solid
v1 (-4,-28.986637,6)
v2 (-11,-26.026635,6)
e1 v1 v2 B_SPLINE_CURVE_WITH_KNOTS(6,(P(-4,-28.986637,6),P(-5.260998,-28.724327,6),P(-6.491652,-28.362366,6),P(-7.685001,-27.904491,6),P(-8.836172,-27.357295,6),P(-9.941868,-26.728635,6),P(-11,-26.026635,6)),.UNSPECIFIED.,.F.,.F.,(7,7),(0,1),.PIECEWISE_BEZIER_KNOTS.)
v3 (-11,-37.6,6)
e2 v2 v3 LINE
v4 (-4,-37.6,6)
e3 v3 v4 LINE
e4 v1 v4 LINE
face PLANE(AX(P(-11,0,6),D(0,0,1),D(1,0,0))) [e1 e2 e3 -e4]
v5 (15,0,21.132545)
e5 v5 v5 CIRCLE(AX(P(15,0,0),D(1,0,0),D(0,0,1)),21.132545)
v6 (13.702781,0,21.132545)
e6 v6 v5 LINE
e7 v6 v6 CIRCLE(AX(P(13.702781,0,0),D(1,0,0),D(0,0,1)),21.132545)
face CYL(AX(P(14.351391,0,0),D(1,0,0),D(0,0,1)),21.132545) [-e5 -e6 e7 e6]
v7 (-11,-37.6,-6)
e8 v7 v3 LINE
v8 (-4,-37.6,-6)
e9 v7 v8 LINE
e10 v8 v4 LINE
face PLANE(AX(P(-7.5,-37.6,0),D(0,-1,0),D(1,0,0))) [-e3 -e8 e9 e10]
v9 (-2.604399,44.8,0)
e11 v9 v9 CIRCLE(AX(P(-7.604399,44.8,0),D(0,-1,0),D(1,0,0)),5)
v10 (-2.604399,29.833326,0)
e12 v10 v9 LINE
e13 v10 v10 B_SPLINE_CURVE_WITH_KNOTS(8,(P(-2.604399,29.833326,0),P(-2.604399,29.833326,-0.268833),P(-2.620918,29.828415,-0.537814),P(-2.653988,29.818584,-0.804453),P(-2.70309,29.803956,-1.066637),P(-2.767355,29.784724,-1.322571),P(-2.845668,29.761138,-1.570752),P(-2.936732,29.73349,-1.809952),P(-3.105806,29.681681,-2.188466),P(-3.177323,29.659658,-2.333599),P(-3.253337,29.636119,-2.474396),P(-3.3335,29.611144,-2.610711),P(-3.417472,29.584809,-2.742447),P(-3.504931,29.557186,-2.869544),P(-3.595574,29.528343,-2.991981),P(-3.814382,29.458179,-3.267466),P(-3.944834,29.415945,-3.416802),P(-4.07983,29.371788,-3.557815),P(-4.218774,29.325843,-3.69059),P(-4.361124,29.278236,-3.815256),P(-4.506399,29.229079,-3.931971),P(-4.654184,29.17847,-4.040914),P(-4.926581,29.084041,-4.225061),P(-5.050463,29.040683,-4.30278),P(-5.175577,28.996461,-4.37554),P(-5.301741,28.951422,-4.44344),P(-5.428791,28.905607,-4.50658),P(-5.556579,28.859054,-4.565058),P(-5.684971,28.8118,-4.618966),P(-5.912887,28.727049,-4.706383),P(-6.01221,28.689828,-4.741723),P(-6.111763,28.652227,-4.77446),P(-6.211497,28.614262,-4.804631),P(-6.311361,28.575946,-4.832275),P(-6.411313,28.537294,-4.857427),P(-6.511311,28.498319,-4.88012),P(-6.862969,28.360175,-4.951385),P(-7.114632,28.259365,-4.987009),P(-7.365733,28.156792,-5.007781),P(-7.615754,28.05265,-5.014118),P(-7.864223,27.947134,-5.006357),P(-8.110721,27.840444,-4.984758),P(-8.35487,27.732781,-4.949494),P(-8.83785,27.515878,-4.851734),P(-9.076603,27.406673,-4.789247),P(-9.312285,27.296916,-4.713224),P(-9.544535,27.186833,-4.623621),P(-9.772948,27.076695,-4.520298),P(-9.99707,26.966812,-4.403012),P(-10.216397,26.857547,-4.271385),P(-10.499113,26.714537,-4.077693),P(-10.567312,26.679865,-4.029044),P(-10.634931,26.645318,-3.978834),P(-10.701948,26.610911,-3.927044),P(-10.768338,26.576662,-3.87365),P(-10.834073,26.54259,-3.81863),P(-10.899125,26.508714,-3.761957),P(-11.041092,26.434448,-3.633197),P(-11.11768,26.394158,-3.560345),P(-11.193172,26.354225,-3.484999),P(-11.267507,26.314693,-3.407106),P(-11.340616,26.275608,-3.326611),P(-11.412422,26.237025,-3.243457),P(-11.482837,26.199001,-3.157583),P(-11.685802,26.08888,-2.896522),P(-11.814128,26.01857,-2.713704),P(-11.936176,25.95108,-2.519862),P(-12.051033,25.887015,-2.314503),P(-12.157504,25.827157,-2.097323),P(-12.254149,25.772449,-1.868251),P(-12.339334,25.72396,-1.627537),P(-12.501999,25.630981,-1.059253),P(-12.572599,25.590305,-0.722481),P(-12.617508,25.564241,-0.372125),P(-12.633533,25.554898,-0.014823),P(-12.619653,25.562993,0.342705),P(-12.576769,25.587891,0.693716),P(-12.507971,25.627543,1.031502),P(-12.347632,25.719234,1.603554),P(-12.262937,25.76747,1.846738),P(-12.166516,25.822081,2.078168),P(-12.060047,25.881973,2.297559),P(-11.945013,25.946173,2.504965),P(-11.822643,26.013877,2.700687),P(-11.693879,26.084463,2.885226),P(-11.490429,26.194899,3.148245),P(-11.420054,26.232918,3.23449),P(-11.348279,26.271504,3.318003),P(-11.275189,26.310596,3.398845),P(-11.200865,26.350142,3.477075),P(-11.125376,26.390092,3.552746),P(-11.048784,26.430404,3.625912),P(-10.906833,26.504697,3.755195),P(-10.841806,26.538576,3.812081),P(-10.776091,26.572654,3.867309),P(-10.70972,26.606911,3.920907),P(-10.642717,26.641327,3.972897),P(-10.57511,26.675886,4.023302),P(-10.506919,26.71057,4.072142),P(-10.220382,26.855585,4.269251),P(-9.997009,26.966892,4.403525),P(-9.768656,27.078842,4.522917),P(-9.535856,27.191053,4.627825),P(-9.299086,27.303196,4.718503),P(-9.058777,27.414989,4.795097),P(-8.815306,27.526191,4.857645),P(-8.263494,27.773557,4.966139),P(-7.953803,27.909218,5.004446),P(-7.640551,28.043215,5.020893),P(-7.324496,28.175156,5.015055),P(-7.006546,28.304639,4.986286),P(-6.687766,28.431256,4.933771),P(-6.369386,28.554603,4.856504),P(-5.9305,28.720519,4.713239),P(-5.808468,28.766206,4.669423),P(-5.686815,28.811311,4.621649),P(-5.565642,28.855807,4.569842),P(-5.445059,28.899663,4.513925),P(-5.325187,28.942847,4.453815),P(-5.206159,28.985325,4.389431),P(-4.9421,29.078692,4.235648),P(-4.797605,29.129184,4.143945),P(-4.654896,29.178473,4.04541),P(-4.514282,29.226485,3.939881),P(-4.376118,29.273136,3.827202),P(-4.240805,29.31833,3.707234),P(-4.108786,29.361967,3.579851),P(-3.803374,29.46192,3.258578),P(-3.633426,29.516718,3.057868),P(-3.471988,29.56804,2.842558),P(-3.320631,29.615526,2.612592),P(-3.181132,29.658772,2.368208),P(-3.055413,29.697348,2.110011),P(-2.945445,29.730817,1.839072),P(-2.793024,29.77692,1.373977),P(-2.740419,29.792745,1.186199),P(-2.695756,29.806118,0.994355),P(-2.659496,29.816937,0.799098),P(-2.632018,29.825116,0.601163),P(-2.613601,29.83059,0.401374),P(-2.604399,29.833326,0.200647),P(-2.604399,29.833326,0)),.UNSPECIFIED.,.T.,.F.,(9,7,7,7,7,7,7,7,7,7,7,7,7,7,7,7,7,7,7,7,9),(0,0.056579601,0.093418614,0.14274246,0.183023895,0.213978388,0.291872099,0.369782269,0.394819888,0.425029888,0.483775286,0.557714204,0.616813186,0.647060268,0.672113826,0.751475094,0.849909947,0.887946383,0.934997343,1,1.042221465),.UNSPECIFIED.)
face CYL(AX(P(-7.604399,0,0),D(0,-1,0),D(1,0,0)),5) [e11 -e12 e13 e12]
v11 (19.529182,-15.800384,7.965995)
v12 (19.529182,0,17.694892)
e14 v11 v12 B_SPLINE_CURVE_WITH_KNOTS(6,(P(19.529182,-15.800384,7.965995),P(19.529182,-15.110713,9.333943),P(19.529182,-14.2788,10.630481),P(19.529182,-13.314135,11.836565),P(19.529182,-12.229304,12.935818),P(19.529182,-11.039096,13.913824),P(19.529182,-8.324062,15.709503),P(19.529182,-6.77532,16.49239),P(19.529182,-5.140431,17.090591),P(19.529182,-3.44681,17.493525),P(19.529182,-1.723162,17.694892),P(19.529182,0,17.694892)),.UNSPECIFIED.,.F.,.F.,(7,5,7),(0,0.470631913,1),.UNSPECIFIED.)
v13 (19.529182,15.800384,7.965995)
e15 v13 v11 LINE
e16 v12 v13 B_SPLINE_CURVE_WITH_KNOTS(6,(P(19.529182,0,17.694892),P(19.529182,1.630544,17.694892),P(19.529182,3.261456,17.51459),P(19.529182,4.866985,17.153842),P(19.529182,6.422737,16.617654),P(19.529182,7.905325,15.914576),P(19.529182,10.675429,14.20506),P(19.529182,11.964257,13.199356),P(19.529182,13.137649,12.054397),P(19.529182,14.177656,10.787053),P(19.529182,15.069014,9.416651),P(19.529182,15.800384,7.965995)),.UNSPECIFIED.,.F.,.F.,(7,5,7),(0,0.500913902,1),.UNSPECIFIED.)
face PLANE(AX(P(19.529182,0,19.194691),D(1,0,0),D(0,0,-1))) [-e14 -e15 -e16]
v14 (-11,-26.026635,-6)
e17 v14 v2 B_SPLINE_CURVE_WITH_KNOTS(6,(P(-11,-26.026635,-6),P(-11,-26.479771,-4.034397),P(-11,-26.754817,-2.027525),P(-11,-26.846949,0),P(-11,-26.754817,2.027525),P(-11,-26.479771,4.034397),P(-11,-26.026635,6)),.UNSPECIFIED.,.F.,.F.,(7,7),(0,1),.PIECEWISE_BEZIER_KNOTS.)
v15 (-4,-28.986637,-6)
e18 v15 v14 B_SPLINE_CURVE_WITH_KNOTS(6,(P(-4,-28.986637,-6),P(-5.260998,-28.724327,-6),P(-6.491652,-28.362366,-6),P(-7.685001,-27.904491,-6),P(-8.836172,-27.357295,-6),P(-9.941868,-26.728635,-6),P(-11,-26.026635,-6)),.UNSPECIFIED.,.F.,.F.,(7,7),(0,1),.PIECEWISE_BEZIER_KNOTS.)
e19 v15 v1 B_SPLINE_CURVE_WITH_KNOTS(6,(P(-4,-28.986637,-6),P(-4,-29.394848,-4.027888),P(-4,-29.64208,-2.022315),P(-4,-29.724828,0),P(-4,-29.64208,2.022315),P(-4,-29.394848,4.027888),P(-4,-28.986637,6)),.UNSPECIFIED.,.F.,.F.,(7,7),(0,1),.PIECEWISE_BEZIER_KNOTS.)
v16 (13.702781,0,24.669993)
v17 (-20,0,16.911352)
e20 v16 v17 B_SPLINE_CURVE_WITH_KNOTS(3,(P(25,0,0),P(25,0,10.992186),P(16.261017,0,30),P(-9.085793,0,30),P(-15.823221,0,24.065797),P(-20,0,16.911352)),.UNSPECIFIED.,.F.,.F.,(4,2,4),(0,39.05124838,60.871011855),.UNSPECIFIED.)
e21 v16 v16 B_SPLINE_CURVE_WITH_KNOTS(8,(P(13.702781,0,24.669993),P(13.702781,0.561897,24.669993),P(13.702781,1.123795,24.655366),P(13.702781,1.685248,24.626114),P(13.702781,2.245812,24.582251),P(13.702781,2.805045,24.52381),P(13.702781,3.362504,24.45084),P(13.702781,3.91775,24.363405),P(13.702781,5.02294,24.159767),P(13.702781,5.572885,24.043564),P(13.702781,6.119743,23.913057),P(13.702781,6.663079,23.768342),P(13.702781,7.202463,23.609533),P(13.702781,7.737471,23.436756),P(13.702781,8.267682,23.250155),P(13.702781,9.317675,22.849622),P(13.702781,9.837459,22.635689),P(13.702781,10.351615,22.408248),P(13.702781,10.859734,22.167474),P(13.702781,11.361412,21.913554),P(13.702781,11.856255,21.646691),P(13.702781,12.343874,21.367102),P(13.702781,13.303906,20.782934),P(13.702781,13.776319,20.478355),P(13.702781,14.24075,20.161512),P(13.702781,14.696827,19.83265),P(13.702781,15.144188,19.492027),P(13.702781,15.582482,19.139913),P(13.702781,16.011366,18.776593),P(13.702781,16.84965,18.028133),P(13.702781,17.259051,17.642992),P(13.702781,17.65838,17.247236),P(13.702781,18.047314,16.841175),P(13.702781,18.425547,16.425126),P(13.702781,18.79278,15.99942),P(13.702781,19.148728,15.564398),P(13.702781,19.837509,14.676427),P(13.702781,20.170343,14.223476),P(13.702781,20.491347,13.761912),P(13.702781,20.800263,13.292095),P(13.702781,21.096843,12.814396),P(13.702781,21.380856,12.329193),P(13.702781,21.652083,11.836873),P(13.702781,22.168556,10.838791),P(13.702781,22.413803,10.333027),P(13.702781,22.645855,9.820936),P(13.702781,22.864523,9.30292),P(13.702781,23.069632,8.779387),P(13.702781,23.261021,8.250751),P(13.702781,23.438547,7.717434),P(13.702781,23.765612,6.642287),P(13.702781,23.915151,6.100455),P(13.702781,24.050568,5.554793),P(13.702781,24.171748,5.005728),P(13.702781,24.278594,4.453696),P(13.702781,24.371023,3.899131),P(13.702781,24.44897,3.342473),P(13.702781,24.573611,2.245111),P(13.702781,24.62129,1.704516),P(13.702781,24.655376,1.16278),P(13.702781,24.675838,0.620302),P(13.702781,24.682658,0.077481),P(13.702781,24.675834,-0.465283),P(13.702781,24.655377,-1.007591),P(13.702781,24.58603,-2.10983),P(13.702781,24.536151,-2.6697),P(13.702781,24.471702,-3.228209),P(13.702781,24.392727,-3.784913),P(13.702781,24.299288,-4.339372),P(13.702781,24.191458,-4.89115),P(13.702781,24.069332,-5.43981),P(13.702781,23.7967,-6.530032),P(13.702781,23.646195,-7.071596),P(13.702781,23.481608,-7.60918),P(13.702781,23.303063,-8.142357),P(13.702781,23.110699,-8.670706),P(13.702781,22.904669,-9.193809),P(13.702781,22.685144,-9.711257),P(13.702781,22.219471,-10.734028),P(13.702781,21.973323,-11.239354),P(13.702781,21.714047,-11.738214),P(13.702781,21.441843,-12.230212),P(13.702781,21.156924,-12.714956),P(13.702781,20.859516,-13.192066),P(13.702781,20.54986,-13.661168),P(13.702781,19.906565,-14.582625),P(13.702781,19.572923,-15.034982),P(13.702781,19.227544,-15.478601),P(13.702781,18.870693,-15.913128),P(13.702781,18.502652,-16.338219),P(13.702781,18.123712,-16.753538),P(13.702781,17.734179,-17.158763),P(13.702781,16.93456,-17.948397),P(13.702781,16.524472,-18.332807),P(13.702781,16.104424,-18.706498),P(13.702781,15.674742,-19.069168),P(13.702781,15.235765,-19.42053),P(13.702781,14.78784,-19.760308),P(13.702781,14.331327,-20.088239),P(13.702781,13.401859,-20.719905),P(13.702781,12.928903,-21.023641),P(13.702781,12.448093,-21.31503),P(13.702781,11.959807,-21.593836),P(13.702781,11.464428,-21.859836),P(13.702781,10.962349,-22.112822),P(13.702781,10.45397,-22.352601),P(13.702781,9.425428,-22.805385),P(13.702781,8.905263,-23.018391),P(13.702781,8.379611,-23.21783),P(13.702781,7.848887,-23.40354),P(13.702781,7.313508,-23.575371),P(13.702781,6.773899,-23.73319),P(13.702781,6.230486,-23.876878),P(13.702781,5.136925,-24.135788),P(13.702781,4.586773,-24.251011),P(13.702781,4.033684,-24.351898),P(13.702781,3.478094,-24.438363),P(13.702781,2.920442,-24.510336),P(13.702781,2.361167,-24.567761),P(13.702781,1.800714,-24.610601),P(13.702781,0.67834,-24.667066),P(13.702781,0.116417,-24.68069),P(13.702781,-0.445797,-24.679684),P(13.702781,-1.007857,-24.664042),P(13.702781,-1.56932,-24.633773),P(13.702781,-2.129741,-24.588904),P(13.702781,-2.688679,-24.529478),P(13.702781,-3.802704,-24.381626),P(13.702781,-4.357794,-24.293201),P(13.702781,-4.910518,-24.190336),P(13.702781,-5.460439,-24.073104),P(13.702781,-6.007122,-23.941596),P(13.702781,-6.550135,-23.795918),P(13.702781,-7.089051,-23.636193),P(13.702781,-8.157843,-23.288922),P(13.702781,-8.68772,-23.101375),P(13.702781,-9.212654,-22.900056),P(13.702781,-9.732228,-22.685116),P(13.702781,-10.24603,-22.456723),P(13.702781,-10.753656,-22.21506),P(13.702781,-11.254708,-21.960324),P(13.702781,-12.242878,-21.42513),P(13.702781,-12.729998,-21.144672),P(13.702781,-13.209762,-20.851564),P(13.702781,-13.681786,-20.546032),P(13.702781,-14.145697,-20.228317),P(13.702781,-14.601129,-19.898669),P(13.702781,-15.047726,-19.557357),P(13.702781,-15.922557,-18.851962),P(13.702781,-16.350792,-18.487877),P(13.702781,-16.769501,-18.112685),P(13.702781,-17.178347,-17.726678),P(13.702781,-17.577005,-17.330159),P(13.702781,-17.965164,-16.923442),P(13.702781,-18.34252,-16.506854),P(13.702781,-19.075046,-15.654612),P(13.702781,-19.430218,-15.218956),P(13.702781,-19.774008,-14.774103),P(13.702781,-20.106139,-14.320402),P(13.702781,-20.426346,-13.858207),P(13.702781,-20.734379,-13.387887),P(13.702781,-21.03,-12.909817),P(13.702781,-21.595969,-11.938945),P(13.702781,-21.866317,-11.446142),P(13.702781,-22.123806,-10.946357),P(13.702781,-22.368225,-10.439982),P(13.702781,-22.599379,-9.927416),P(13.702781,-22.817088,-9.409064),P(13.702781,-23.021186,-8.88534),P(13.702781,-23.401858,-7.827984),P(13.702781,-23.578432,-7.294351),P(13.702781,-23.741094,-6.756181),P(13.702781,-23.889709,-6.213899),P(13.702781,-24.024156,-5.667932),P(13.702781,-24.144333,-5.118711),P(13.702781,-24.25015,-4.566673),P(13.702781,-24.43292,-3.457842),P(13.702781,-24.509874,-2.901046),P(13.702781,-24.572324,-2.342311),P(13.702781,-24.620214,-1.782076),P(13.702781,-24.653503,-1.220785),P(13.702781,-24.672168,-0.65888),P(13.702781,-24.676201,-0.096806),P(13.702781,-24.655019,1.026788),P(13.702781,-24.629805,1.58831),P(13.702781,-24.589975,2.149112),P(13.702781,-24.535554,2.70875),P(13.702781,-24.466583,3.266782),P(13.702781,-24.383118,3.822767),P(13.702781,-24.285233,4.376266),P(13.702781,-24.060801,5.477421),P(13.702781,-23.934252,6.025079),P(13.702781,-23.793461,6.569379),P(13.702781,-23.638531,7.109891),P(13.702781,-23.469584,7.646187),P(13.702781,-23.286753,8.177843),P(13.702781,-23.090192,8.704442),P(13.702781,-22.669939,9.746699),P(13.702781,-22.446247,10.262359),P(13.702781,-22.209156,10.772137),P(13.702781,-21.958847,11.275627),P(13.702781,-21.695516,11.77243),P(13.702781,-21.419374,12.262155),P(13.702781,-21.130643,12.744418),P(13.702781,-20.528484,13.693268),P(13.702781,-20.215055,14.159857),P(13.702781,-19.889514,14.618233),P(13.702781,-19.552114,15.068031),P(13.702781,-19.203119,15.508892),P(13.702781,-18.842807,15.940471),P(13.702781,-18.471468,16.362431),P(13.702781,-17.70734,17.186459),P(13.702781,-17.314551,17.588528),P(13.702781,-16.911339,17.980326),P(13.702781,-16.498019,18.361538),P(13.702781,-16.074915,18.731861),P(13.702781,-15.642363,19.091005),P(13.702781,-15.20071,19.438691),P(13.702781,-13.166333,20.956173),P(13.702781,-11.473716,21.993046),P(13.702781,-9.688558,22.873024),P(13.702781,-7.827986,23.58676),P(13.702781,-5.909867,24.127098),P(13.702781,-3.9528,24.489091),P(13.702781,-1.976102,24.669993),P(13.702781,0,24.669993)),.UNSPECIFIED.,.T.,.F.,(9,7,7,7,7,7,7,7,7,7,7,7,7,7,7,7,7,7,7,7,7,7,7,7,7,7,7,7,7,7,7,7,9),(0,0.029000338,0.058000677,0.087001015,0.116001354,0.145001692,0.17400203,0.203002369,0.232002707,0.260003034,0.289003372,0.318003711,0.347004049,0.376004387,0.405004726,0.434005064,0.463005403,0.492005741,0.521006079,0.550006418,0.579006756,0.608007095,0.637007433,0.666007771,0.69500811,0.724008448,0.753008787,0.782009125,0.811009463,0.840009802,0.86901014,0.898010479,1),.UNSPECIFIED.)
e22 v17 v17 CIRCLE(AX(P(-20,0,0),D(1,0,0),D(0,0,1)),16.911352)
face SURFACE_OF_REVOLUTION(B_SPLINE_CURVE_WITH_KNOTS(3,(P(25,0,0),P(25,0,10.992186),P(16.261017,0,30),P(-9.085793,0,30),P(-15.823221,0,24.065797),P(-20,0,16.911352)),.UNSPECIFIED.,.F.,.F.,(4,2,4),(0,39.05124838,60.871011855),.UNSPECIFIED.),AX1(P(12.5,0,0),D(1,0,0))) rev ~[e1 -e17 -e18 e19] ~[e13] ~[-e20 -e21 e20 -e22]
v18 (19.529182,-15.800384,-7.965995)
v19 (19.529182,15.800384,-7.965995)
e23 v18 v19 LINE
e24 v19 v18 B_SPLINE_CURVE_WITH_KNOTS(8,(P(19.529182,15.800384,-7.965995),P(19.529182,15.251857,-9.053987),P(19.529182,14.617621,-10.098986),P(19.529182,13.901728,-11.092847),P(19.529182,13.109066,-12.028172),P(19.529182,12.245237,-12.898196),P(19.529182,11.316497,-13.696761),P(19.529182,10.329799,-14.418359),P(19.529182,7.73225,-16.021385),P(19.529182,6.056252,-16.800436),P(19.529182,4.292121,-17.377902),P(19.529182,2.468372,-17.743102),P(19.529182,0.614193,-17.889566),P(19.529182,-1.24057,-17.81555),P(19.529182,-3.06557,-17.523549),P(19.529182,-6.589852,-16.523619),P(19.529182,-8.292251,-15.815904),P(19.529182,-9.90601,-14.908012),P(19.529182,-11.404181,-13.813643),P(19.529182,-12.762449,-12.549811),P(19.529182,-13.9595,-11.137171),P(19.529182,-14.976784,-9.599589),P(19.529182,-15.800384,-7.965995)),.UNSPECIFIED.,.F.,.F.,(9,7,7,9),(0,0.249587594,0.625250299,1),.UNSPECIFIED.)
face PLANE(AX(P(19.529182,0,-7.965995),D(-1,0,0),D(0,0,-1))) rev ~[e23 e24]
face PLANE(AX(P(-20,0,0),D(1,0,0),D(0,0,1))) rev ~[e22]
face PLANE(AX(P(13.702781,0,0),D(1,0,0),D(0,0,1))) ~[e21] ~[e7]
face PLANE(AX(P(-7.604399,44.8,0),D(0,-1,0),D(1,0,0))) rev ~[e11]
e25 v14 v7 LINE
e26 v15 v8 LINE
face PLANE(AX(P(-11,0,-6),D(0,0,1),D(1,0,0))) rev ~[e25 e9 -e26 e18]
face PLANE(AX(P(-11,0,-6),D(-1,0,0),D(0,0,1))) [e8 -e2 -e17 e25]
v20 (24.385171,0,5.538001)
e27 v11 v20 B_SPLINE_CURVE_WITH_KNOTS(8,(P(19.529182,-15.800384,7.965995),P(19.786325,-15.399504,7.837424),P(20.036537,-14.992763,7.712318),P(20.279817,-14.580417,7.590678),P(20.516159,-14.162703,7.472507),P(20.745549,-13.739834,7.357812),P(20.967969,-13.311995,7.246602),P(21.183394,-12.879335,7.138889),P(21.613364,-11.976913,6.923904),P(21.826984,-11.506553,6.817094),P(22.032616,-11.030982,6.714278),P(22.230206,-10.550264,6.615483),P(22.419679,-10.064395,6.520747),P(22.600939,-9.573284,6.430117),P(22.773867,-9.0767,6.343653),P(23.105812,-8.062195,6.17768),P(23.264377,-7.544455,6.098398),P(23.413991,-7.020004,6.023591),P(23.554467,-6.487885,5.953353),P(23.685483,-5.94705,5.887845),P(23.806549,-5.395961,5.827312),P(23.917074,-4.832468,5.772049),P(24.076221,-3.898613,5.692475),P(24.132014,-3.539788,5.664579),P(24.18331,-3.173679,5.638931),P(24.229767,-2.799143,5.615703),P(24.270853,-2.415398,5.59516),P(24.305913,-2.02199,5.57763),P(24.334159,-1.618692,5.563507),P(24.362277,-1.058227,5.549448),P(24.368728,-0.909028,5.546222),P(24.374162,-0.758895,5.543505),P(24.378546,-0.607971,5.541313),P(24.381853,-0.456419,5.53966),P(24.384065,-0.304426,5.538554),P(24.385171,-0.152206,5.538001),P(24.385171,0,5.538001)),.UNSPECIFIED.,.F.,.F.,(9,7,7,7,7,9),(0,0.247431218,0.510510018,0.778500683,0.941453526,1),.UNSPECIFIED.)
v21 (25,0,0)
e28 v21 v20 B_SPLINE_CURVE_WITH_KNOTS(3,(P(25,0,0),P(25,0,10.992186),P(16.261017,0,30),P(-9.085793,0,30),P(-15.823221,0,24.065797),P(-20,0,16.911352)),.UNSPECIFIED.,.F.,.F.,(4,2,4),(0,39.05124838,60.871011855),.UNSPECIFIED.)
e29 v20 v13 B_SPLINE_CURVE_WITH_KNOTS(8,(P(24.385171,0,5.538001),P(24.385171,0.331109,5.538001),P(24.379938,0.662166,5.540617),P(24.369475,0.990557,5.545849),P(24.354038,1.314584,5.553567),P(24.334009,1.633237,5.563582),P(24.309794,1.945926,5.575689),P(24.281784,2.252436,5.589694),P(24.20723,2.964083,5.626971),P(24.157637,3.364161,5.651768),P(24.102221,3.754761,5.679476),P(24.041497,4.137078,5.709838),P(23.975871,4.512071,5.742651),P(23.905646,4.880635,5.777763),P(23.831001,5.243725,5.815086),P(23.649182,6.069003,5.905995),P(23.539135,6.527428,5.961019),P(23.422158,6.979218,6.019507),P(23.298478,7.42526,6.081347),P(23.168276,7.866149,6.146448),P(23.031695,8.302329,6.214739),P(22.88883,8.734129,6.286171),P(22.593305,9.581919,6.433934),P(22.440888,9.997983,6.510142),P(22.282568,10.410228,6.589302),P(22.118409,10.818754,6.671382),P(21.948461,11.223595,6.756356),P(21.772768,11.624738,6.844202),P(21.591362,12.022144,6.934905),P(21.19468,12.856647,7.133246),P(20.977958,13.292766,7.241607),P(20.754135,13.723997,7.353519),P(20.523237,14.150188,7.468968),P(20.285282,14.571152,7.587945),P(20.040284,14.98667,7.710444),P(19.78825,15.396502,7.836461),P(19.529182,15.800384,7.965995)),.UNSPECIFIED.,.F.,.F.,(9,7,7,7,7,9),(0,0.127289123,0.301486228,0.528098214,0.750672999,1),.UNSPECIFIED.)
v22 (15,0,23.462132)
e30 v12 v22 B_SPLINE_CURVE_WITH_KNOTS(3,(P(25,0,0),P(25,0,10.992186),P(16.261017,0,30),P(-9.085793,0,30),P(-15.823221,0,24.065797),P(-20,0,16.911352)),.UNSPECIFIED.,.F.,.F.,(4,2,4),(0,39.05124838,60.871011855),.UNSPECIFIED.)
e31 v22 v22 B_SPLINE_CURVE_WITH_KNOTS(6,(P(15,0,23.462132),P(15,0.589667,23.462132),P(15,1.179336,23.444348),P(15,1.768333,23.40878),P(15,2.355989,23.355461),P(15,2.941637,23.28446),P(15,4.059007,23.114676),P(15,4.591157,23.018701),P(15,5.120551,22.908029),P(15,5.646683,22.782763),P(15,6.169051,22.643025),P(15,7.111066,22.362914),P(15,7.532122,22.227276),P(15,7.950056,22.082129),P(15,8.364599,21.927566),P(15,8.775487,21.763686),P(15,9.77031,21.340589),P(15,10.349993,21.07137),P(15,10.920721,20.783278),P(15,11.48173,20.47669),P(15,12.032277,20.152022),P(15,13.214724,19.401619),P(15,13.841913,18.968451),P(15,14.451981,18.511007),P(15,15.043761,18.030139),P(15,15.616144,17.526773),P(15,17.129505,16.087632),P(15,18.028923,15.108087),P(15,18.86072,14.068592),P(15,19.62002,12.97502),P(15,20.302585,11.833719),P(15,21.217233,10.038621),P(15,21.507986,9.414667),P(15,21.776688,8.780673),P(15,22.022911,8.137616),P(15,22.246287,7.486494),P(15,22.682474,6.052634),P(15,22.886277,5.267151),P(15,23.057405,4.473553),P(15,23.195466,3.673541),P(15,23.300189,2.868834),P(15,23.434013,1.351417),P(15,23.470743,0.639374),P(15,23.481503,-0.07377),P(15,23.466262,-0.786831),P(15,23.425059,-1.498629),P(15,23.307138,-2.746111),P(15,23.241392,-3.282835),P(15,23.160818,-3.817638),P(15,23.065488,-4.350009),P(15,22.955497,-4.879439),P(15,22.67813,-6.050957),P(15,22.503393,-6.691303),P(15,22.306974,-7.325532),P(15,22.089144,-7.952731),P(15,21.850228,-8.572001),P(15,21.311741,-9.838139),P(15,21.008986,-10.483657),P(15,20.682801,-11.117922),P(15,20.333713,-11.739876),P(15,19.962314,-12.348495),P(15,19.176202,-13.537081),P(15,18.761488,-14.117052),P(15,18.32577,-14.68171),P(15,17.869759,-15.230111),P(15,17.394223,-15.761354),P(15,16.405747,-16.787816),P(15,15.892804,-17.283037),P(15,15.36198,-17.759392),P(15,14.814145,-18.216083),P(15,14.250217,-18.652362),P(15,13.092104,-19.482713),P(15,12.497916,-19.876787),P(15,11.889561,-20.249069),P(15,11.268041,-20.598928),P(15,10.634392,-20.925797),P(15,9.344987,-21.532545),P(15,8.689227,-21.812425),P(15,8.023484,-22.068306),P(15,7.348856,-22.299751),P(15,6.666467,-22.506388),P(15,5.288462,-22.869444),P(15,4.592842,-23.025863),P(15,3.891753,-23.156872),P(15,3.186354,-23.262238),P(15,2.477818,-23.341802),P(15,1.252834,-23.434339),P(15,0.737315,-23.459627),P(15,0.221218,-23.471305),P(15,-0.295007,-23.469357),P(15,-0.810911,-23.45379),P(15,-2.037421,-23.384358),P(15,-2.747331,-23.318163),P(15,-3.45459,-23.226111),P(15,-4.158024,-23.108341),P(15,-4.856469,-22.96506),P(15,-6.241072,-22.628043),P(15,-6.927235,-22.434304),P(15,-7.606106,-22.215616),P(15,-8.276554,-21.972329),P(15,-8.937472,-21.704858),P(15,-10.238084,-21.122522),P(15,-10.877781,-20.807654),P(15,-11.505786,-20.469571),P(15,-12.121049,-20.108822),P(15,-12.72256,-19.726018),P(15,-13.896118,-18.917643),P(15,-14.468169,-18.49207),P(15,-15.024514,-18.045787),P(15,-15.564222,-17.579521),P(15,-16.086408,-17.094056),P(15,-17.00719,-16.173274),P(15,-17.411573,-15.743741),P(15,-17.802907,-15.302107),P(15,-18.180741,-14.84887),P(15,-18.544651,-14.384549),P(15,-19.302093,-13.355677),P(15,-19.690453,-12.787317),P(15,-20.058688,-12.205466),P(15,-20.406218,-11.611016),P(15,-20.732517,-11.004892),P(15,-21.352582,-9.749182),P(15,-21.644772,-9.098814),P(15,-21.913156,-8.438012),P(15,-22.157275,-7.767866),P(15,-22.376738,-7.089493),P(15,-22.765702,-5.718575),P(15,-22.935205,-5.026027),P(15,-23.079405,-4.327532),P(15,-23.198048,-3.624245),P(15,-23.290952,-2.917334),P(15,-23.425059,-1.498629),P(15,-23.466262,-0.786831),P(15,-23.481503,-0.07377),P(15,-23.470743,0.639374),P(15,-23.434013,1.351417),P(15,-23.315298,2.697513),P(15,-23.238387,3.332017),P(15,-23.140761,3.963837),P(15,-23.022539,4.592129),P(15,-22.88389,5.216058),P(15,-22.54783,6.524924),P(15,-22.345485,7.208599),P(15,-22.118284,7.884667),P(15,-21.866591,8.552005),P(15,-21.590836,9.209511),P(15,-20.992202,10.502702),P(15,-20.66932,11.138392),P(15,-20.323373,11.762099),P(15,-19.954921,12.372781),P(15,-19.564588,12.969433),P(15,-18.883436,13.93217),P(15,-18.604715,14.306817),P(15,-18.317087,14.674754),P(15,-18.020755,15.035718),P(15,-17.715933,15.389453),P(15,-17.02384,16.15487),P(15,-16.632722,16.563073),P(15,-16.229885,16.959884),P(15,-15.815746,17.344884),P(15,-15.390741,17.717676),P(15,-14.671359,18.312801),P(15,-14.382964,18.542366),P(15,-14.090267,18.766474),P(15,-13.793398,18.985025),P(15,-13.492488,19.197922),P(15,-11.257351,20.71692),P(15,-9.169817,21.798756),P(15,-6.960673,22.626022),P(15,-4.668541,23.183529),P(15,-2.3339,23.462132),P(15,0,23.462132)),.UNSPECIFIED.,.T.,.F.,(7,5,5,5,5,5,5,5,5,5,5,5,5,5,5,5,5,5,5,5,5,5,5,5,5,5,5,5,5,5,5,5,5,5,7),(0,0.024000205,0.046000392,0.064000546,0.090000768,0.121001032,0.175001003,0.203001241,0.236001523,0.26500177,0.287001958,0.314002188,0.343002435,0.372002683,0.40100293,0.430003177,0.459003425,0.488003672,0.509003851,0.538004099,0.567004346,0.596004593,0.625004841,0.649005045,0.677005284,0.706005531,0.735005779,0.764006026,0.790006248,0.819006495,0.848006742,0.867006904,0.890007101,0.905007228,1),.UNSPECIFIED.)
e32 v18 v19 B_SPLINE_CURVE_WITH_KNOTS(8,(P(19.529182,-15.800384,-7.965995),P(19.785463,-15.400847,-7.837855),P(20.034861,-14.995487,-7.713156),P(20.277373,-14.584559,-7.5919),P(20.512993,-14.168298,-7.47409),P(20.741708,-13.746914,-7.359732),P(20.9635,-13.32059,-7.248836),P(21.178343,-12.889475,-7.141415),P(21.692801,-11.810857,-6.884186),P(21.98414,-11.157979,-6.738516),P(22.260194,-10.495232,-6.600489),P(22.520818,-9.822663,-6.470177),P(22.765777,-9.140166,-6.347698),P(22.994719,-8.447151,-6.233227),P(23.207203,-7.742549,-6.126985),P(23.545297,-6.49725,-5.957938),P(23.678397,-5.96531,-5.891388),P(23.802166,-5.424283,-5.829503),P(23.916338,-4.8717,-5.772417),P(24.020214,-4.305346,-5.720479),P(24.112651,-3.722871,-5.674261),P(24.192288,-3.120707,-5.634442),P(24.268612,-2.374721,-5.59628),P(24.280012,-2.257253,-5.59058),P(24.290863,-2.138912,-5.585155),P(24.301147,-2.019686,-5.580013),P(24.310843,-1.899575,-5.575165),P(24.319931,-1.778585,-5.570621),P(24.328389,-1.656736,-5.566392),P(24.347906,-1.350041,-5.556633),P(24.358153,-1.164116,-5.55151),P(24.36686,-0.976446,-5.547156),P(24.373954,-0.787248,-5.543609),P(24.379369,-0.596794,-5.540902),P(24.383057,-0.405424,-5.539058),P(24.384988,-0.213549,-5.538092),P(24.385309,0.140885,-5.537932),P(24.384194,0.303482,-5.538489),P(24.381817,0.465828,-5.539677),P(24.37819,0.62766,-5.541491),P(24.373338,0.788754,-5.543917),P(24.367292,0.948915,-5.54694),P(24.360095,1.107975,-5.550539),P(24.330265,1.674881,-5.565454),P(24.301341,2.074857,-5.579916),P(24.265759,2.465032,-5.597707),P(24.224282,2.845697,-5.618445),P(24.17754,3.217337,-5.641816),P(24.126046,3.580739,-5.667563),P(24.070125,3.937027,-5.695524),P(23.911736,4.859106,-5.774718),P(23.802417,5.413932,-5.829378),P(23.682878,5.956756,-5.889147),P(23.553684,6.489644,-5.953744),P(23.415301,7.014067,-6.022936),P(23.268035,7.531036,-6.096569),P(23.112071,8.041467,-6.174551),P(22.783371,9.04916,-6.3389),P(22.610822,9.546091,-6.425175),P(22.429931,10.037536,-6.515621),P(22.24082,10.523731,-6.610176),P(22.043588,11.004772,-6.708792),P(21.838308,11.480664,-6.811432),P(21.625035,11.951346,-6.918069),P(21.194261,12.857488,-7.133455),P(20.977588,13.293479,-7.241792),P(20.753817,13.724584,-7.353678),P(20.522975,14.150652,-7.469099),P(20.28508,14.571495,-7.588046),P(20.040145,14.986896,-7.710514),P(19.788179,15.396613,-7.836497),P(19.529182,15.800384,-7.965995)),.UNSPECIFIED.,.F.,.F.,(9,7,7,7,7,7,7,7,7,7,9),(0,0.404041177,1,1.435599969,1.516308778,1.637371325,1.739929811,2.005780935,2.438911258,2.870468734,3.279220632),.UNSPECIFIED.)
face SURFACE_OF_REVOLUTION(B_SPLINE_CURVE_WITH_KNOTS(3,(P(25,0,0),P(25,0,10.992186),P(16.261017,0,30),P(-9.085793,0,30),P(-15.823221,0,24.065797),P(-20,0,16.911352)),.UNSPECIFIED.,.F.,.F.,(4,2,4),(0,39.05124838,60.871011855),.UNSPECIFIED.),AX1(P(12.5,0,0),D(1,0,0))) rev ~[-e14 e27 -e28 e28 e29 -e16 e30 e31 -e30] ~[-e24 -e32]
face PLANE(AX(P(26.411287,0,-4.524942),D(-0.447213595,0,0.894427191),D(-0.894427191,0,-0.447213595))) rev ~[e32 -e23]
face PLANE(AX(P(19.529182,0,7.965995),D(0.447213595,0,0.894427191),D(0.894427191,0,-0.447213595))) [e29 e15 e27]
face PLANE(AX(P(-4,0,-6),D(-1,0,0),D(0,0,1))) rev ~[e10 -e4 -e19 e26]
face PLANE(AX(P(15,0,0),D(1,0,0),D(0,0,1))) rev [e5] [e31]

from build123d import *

# Parameters (mm, degrees)
F3_DEPTH = 20
F4_W     = 1.2972189062
F4_H     = 10.2779610492
F6_W     = 7
F6_H     = 12
F7_DEPTH = 37.6
F8_R     = 5
F9_DEPTH = 44.8


with BuildPart() as f1:
    # F0 (on Front) → F1 (revolve)
    with BuildSketch(Plane.XZ):
        with BuildLine():
            add(Edge.make_bspline(
                [(0, 30), (16.2610174256, 30), (25, 10.9921857571), (25, 0)],
                knots=[0, 0, 0, 0, 39.0512483795, 39.0512483795, 39.0512483795, 39.0512483795], degree=3))
            add(Edge.make_bspline(
                [(0, 30), (-9.0857928701, 30), (-15.8232208718, 24.065796812), (-20, 16.9113518854)],
                knots=[0, 0, 0, 0, 21.8197634754, 21.8197634754, 21.8197634754, 21.8197634754], degree=3))
            Line((-20, 16.9113518854), (-20, 0))
            Line((-20, 0), (25, 0))
        make_face()
    revolve(axis=Axis((12.5, 0, 0), (1, 0, 0)))

    # F2 (on Front) → F3 (cut, symmetric)
    with BuildSketch(Plane.XZ):
        Polygon((26.4112874866, 18.832474947), (19.5291824639, 19.1946905106), (19.5291824639, 7.9659949988), (26.4112874866, 4.5249424875), align=None)
        Polygon((19.5291824639, -7.9659949988), (19.5291824639, -19.1946905106), (26.4112874866, -18.832474947), (26.4112874866, -4.5249424875), align=None)
    extrude(amount=F3_DEPTH, both=True, mode=Mode.SUBTRACT)

    # F4 (on Front) → F5 (revolve, cut)
    with BuildSketch(Plane.XZ):
        with Locations((14.3513905469, 26.2715257704)):
            Rectangle(F4_W, F4_H)
    revolve(axis=Axis((7.8121407423, 0, 0), (1, 0, 0)), mode=Mode.SUBTRACT)

    # F6 (on Front) → F7 (join)
    with BuildSketch(Plane.XZ):
        with Locations((-7.5, 0)):
            Rectangle(F6_W, F6_H)
    extrude(amount=F7_DEPTH)

    # F8 (on Front) → F9 (join)
    with BuildSketch(Plane.XZ):
        with Locations((-7.6043987647, 0)):
            Circle(F8_R)
    extrude(amount=-F9_DEPTH)


solid = f1.part
